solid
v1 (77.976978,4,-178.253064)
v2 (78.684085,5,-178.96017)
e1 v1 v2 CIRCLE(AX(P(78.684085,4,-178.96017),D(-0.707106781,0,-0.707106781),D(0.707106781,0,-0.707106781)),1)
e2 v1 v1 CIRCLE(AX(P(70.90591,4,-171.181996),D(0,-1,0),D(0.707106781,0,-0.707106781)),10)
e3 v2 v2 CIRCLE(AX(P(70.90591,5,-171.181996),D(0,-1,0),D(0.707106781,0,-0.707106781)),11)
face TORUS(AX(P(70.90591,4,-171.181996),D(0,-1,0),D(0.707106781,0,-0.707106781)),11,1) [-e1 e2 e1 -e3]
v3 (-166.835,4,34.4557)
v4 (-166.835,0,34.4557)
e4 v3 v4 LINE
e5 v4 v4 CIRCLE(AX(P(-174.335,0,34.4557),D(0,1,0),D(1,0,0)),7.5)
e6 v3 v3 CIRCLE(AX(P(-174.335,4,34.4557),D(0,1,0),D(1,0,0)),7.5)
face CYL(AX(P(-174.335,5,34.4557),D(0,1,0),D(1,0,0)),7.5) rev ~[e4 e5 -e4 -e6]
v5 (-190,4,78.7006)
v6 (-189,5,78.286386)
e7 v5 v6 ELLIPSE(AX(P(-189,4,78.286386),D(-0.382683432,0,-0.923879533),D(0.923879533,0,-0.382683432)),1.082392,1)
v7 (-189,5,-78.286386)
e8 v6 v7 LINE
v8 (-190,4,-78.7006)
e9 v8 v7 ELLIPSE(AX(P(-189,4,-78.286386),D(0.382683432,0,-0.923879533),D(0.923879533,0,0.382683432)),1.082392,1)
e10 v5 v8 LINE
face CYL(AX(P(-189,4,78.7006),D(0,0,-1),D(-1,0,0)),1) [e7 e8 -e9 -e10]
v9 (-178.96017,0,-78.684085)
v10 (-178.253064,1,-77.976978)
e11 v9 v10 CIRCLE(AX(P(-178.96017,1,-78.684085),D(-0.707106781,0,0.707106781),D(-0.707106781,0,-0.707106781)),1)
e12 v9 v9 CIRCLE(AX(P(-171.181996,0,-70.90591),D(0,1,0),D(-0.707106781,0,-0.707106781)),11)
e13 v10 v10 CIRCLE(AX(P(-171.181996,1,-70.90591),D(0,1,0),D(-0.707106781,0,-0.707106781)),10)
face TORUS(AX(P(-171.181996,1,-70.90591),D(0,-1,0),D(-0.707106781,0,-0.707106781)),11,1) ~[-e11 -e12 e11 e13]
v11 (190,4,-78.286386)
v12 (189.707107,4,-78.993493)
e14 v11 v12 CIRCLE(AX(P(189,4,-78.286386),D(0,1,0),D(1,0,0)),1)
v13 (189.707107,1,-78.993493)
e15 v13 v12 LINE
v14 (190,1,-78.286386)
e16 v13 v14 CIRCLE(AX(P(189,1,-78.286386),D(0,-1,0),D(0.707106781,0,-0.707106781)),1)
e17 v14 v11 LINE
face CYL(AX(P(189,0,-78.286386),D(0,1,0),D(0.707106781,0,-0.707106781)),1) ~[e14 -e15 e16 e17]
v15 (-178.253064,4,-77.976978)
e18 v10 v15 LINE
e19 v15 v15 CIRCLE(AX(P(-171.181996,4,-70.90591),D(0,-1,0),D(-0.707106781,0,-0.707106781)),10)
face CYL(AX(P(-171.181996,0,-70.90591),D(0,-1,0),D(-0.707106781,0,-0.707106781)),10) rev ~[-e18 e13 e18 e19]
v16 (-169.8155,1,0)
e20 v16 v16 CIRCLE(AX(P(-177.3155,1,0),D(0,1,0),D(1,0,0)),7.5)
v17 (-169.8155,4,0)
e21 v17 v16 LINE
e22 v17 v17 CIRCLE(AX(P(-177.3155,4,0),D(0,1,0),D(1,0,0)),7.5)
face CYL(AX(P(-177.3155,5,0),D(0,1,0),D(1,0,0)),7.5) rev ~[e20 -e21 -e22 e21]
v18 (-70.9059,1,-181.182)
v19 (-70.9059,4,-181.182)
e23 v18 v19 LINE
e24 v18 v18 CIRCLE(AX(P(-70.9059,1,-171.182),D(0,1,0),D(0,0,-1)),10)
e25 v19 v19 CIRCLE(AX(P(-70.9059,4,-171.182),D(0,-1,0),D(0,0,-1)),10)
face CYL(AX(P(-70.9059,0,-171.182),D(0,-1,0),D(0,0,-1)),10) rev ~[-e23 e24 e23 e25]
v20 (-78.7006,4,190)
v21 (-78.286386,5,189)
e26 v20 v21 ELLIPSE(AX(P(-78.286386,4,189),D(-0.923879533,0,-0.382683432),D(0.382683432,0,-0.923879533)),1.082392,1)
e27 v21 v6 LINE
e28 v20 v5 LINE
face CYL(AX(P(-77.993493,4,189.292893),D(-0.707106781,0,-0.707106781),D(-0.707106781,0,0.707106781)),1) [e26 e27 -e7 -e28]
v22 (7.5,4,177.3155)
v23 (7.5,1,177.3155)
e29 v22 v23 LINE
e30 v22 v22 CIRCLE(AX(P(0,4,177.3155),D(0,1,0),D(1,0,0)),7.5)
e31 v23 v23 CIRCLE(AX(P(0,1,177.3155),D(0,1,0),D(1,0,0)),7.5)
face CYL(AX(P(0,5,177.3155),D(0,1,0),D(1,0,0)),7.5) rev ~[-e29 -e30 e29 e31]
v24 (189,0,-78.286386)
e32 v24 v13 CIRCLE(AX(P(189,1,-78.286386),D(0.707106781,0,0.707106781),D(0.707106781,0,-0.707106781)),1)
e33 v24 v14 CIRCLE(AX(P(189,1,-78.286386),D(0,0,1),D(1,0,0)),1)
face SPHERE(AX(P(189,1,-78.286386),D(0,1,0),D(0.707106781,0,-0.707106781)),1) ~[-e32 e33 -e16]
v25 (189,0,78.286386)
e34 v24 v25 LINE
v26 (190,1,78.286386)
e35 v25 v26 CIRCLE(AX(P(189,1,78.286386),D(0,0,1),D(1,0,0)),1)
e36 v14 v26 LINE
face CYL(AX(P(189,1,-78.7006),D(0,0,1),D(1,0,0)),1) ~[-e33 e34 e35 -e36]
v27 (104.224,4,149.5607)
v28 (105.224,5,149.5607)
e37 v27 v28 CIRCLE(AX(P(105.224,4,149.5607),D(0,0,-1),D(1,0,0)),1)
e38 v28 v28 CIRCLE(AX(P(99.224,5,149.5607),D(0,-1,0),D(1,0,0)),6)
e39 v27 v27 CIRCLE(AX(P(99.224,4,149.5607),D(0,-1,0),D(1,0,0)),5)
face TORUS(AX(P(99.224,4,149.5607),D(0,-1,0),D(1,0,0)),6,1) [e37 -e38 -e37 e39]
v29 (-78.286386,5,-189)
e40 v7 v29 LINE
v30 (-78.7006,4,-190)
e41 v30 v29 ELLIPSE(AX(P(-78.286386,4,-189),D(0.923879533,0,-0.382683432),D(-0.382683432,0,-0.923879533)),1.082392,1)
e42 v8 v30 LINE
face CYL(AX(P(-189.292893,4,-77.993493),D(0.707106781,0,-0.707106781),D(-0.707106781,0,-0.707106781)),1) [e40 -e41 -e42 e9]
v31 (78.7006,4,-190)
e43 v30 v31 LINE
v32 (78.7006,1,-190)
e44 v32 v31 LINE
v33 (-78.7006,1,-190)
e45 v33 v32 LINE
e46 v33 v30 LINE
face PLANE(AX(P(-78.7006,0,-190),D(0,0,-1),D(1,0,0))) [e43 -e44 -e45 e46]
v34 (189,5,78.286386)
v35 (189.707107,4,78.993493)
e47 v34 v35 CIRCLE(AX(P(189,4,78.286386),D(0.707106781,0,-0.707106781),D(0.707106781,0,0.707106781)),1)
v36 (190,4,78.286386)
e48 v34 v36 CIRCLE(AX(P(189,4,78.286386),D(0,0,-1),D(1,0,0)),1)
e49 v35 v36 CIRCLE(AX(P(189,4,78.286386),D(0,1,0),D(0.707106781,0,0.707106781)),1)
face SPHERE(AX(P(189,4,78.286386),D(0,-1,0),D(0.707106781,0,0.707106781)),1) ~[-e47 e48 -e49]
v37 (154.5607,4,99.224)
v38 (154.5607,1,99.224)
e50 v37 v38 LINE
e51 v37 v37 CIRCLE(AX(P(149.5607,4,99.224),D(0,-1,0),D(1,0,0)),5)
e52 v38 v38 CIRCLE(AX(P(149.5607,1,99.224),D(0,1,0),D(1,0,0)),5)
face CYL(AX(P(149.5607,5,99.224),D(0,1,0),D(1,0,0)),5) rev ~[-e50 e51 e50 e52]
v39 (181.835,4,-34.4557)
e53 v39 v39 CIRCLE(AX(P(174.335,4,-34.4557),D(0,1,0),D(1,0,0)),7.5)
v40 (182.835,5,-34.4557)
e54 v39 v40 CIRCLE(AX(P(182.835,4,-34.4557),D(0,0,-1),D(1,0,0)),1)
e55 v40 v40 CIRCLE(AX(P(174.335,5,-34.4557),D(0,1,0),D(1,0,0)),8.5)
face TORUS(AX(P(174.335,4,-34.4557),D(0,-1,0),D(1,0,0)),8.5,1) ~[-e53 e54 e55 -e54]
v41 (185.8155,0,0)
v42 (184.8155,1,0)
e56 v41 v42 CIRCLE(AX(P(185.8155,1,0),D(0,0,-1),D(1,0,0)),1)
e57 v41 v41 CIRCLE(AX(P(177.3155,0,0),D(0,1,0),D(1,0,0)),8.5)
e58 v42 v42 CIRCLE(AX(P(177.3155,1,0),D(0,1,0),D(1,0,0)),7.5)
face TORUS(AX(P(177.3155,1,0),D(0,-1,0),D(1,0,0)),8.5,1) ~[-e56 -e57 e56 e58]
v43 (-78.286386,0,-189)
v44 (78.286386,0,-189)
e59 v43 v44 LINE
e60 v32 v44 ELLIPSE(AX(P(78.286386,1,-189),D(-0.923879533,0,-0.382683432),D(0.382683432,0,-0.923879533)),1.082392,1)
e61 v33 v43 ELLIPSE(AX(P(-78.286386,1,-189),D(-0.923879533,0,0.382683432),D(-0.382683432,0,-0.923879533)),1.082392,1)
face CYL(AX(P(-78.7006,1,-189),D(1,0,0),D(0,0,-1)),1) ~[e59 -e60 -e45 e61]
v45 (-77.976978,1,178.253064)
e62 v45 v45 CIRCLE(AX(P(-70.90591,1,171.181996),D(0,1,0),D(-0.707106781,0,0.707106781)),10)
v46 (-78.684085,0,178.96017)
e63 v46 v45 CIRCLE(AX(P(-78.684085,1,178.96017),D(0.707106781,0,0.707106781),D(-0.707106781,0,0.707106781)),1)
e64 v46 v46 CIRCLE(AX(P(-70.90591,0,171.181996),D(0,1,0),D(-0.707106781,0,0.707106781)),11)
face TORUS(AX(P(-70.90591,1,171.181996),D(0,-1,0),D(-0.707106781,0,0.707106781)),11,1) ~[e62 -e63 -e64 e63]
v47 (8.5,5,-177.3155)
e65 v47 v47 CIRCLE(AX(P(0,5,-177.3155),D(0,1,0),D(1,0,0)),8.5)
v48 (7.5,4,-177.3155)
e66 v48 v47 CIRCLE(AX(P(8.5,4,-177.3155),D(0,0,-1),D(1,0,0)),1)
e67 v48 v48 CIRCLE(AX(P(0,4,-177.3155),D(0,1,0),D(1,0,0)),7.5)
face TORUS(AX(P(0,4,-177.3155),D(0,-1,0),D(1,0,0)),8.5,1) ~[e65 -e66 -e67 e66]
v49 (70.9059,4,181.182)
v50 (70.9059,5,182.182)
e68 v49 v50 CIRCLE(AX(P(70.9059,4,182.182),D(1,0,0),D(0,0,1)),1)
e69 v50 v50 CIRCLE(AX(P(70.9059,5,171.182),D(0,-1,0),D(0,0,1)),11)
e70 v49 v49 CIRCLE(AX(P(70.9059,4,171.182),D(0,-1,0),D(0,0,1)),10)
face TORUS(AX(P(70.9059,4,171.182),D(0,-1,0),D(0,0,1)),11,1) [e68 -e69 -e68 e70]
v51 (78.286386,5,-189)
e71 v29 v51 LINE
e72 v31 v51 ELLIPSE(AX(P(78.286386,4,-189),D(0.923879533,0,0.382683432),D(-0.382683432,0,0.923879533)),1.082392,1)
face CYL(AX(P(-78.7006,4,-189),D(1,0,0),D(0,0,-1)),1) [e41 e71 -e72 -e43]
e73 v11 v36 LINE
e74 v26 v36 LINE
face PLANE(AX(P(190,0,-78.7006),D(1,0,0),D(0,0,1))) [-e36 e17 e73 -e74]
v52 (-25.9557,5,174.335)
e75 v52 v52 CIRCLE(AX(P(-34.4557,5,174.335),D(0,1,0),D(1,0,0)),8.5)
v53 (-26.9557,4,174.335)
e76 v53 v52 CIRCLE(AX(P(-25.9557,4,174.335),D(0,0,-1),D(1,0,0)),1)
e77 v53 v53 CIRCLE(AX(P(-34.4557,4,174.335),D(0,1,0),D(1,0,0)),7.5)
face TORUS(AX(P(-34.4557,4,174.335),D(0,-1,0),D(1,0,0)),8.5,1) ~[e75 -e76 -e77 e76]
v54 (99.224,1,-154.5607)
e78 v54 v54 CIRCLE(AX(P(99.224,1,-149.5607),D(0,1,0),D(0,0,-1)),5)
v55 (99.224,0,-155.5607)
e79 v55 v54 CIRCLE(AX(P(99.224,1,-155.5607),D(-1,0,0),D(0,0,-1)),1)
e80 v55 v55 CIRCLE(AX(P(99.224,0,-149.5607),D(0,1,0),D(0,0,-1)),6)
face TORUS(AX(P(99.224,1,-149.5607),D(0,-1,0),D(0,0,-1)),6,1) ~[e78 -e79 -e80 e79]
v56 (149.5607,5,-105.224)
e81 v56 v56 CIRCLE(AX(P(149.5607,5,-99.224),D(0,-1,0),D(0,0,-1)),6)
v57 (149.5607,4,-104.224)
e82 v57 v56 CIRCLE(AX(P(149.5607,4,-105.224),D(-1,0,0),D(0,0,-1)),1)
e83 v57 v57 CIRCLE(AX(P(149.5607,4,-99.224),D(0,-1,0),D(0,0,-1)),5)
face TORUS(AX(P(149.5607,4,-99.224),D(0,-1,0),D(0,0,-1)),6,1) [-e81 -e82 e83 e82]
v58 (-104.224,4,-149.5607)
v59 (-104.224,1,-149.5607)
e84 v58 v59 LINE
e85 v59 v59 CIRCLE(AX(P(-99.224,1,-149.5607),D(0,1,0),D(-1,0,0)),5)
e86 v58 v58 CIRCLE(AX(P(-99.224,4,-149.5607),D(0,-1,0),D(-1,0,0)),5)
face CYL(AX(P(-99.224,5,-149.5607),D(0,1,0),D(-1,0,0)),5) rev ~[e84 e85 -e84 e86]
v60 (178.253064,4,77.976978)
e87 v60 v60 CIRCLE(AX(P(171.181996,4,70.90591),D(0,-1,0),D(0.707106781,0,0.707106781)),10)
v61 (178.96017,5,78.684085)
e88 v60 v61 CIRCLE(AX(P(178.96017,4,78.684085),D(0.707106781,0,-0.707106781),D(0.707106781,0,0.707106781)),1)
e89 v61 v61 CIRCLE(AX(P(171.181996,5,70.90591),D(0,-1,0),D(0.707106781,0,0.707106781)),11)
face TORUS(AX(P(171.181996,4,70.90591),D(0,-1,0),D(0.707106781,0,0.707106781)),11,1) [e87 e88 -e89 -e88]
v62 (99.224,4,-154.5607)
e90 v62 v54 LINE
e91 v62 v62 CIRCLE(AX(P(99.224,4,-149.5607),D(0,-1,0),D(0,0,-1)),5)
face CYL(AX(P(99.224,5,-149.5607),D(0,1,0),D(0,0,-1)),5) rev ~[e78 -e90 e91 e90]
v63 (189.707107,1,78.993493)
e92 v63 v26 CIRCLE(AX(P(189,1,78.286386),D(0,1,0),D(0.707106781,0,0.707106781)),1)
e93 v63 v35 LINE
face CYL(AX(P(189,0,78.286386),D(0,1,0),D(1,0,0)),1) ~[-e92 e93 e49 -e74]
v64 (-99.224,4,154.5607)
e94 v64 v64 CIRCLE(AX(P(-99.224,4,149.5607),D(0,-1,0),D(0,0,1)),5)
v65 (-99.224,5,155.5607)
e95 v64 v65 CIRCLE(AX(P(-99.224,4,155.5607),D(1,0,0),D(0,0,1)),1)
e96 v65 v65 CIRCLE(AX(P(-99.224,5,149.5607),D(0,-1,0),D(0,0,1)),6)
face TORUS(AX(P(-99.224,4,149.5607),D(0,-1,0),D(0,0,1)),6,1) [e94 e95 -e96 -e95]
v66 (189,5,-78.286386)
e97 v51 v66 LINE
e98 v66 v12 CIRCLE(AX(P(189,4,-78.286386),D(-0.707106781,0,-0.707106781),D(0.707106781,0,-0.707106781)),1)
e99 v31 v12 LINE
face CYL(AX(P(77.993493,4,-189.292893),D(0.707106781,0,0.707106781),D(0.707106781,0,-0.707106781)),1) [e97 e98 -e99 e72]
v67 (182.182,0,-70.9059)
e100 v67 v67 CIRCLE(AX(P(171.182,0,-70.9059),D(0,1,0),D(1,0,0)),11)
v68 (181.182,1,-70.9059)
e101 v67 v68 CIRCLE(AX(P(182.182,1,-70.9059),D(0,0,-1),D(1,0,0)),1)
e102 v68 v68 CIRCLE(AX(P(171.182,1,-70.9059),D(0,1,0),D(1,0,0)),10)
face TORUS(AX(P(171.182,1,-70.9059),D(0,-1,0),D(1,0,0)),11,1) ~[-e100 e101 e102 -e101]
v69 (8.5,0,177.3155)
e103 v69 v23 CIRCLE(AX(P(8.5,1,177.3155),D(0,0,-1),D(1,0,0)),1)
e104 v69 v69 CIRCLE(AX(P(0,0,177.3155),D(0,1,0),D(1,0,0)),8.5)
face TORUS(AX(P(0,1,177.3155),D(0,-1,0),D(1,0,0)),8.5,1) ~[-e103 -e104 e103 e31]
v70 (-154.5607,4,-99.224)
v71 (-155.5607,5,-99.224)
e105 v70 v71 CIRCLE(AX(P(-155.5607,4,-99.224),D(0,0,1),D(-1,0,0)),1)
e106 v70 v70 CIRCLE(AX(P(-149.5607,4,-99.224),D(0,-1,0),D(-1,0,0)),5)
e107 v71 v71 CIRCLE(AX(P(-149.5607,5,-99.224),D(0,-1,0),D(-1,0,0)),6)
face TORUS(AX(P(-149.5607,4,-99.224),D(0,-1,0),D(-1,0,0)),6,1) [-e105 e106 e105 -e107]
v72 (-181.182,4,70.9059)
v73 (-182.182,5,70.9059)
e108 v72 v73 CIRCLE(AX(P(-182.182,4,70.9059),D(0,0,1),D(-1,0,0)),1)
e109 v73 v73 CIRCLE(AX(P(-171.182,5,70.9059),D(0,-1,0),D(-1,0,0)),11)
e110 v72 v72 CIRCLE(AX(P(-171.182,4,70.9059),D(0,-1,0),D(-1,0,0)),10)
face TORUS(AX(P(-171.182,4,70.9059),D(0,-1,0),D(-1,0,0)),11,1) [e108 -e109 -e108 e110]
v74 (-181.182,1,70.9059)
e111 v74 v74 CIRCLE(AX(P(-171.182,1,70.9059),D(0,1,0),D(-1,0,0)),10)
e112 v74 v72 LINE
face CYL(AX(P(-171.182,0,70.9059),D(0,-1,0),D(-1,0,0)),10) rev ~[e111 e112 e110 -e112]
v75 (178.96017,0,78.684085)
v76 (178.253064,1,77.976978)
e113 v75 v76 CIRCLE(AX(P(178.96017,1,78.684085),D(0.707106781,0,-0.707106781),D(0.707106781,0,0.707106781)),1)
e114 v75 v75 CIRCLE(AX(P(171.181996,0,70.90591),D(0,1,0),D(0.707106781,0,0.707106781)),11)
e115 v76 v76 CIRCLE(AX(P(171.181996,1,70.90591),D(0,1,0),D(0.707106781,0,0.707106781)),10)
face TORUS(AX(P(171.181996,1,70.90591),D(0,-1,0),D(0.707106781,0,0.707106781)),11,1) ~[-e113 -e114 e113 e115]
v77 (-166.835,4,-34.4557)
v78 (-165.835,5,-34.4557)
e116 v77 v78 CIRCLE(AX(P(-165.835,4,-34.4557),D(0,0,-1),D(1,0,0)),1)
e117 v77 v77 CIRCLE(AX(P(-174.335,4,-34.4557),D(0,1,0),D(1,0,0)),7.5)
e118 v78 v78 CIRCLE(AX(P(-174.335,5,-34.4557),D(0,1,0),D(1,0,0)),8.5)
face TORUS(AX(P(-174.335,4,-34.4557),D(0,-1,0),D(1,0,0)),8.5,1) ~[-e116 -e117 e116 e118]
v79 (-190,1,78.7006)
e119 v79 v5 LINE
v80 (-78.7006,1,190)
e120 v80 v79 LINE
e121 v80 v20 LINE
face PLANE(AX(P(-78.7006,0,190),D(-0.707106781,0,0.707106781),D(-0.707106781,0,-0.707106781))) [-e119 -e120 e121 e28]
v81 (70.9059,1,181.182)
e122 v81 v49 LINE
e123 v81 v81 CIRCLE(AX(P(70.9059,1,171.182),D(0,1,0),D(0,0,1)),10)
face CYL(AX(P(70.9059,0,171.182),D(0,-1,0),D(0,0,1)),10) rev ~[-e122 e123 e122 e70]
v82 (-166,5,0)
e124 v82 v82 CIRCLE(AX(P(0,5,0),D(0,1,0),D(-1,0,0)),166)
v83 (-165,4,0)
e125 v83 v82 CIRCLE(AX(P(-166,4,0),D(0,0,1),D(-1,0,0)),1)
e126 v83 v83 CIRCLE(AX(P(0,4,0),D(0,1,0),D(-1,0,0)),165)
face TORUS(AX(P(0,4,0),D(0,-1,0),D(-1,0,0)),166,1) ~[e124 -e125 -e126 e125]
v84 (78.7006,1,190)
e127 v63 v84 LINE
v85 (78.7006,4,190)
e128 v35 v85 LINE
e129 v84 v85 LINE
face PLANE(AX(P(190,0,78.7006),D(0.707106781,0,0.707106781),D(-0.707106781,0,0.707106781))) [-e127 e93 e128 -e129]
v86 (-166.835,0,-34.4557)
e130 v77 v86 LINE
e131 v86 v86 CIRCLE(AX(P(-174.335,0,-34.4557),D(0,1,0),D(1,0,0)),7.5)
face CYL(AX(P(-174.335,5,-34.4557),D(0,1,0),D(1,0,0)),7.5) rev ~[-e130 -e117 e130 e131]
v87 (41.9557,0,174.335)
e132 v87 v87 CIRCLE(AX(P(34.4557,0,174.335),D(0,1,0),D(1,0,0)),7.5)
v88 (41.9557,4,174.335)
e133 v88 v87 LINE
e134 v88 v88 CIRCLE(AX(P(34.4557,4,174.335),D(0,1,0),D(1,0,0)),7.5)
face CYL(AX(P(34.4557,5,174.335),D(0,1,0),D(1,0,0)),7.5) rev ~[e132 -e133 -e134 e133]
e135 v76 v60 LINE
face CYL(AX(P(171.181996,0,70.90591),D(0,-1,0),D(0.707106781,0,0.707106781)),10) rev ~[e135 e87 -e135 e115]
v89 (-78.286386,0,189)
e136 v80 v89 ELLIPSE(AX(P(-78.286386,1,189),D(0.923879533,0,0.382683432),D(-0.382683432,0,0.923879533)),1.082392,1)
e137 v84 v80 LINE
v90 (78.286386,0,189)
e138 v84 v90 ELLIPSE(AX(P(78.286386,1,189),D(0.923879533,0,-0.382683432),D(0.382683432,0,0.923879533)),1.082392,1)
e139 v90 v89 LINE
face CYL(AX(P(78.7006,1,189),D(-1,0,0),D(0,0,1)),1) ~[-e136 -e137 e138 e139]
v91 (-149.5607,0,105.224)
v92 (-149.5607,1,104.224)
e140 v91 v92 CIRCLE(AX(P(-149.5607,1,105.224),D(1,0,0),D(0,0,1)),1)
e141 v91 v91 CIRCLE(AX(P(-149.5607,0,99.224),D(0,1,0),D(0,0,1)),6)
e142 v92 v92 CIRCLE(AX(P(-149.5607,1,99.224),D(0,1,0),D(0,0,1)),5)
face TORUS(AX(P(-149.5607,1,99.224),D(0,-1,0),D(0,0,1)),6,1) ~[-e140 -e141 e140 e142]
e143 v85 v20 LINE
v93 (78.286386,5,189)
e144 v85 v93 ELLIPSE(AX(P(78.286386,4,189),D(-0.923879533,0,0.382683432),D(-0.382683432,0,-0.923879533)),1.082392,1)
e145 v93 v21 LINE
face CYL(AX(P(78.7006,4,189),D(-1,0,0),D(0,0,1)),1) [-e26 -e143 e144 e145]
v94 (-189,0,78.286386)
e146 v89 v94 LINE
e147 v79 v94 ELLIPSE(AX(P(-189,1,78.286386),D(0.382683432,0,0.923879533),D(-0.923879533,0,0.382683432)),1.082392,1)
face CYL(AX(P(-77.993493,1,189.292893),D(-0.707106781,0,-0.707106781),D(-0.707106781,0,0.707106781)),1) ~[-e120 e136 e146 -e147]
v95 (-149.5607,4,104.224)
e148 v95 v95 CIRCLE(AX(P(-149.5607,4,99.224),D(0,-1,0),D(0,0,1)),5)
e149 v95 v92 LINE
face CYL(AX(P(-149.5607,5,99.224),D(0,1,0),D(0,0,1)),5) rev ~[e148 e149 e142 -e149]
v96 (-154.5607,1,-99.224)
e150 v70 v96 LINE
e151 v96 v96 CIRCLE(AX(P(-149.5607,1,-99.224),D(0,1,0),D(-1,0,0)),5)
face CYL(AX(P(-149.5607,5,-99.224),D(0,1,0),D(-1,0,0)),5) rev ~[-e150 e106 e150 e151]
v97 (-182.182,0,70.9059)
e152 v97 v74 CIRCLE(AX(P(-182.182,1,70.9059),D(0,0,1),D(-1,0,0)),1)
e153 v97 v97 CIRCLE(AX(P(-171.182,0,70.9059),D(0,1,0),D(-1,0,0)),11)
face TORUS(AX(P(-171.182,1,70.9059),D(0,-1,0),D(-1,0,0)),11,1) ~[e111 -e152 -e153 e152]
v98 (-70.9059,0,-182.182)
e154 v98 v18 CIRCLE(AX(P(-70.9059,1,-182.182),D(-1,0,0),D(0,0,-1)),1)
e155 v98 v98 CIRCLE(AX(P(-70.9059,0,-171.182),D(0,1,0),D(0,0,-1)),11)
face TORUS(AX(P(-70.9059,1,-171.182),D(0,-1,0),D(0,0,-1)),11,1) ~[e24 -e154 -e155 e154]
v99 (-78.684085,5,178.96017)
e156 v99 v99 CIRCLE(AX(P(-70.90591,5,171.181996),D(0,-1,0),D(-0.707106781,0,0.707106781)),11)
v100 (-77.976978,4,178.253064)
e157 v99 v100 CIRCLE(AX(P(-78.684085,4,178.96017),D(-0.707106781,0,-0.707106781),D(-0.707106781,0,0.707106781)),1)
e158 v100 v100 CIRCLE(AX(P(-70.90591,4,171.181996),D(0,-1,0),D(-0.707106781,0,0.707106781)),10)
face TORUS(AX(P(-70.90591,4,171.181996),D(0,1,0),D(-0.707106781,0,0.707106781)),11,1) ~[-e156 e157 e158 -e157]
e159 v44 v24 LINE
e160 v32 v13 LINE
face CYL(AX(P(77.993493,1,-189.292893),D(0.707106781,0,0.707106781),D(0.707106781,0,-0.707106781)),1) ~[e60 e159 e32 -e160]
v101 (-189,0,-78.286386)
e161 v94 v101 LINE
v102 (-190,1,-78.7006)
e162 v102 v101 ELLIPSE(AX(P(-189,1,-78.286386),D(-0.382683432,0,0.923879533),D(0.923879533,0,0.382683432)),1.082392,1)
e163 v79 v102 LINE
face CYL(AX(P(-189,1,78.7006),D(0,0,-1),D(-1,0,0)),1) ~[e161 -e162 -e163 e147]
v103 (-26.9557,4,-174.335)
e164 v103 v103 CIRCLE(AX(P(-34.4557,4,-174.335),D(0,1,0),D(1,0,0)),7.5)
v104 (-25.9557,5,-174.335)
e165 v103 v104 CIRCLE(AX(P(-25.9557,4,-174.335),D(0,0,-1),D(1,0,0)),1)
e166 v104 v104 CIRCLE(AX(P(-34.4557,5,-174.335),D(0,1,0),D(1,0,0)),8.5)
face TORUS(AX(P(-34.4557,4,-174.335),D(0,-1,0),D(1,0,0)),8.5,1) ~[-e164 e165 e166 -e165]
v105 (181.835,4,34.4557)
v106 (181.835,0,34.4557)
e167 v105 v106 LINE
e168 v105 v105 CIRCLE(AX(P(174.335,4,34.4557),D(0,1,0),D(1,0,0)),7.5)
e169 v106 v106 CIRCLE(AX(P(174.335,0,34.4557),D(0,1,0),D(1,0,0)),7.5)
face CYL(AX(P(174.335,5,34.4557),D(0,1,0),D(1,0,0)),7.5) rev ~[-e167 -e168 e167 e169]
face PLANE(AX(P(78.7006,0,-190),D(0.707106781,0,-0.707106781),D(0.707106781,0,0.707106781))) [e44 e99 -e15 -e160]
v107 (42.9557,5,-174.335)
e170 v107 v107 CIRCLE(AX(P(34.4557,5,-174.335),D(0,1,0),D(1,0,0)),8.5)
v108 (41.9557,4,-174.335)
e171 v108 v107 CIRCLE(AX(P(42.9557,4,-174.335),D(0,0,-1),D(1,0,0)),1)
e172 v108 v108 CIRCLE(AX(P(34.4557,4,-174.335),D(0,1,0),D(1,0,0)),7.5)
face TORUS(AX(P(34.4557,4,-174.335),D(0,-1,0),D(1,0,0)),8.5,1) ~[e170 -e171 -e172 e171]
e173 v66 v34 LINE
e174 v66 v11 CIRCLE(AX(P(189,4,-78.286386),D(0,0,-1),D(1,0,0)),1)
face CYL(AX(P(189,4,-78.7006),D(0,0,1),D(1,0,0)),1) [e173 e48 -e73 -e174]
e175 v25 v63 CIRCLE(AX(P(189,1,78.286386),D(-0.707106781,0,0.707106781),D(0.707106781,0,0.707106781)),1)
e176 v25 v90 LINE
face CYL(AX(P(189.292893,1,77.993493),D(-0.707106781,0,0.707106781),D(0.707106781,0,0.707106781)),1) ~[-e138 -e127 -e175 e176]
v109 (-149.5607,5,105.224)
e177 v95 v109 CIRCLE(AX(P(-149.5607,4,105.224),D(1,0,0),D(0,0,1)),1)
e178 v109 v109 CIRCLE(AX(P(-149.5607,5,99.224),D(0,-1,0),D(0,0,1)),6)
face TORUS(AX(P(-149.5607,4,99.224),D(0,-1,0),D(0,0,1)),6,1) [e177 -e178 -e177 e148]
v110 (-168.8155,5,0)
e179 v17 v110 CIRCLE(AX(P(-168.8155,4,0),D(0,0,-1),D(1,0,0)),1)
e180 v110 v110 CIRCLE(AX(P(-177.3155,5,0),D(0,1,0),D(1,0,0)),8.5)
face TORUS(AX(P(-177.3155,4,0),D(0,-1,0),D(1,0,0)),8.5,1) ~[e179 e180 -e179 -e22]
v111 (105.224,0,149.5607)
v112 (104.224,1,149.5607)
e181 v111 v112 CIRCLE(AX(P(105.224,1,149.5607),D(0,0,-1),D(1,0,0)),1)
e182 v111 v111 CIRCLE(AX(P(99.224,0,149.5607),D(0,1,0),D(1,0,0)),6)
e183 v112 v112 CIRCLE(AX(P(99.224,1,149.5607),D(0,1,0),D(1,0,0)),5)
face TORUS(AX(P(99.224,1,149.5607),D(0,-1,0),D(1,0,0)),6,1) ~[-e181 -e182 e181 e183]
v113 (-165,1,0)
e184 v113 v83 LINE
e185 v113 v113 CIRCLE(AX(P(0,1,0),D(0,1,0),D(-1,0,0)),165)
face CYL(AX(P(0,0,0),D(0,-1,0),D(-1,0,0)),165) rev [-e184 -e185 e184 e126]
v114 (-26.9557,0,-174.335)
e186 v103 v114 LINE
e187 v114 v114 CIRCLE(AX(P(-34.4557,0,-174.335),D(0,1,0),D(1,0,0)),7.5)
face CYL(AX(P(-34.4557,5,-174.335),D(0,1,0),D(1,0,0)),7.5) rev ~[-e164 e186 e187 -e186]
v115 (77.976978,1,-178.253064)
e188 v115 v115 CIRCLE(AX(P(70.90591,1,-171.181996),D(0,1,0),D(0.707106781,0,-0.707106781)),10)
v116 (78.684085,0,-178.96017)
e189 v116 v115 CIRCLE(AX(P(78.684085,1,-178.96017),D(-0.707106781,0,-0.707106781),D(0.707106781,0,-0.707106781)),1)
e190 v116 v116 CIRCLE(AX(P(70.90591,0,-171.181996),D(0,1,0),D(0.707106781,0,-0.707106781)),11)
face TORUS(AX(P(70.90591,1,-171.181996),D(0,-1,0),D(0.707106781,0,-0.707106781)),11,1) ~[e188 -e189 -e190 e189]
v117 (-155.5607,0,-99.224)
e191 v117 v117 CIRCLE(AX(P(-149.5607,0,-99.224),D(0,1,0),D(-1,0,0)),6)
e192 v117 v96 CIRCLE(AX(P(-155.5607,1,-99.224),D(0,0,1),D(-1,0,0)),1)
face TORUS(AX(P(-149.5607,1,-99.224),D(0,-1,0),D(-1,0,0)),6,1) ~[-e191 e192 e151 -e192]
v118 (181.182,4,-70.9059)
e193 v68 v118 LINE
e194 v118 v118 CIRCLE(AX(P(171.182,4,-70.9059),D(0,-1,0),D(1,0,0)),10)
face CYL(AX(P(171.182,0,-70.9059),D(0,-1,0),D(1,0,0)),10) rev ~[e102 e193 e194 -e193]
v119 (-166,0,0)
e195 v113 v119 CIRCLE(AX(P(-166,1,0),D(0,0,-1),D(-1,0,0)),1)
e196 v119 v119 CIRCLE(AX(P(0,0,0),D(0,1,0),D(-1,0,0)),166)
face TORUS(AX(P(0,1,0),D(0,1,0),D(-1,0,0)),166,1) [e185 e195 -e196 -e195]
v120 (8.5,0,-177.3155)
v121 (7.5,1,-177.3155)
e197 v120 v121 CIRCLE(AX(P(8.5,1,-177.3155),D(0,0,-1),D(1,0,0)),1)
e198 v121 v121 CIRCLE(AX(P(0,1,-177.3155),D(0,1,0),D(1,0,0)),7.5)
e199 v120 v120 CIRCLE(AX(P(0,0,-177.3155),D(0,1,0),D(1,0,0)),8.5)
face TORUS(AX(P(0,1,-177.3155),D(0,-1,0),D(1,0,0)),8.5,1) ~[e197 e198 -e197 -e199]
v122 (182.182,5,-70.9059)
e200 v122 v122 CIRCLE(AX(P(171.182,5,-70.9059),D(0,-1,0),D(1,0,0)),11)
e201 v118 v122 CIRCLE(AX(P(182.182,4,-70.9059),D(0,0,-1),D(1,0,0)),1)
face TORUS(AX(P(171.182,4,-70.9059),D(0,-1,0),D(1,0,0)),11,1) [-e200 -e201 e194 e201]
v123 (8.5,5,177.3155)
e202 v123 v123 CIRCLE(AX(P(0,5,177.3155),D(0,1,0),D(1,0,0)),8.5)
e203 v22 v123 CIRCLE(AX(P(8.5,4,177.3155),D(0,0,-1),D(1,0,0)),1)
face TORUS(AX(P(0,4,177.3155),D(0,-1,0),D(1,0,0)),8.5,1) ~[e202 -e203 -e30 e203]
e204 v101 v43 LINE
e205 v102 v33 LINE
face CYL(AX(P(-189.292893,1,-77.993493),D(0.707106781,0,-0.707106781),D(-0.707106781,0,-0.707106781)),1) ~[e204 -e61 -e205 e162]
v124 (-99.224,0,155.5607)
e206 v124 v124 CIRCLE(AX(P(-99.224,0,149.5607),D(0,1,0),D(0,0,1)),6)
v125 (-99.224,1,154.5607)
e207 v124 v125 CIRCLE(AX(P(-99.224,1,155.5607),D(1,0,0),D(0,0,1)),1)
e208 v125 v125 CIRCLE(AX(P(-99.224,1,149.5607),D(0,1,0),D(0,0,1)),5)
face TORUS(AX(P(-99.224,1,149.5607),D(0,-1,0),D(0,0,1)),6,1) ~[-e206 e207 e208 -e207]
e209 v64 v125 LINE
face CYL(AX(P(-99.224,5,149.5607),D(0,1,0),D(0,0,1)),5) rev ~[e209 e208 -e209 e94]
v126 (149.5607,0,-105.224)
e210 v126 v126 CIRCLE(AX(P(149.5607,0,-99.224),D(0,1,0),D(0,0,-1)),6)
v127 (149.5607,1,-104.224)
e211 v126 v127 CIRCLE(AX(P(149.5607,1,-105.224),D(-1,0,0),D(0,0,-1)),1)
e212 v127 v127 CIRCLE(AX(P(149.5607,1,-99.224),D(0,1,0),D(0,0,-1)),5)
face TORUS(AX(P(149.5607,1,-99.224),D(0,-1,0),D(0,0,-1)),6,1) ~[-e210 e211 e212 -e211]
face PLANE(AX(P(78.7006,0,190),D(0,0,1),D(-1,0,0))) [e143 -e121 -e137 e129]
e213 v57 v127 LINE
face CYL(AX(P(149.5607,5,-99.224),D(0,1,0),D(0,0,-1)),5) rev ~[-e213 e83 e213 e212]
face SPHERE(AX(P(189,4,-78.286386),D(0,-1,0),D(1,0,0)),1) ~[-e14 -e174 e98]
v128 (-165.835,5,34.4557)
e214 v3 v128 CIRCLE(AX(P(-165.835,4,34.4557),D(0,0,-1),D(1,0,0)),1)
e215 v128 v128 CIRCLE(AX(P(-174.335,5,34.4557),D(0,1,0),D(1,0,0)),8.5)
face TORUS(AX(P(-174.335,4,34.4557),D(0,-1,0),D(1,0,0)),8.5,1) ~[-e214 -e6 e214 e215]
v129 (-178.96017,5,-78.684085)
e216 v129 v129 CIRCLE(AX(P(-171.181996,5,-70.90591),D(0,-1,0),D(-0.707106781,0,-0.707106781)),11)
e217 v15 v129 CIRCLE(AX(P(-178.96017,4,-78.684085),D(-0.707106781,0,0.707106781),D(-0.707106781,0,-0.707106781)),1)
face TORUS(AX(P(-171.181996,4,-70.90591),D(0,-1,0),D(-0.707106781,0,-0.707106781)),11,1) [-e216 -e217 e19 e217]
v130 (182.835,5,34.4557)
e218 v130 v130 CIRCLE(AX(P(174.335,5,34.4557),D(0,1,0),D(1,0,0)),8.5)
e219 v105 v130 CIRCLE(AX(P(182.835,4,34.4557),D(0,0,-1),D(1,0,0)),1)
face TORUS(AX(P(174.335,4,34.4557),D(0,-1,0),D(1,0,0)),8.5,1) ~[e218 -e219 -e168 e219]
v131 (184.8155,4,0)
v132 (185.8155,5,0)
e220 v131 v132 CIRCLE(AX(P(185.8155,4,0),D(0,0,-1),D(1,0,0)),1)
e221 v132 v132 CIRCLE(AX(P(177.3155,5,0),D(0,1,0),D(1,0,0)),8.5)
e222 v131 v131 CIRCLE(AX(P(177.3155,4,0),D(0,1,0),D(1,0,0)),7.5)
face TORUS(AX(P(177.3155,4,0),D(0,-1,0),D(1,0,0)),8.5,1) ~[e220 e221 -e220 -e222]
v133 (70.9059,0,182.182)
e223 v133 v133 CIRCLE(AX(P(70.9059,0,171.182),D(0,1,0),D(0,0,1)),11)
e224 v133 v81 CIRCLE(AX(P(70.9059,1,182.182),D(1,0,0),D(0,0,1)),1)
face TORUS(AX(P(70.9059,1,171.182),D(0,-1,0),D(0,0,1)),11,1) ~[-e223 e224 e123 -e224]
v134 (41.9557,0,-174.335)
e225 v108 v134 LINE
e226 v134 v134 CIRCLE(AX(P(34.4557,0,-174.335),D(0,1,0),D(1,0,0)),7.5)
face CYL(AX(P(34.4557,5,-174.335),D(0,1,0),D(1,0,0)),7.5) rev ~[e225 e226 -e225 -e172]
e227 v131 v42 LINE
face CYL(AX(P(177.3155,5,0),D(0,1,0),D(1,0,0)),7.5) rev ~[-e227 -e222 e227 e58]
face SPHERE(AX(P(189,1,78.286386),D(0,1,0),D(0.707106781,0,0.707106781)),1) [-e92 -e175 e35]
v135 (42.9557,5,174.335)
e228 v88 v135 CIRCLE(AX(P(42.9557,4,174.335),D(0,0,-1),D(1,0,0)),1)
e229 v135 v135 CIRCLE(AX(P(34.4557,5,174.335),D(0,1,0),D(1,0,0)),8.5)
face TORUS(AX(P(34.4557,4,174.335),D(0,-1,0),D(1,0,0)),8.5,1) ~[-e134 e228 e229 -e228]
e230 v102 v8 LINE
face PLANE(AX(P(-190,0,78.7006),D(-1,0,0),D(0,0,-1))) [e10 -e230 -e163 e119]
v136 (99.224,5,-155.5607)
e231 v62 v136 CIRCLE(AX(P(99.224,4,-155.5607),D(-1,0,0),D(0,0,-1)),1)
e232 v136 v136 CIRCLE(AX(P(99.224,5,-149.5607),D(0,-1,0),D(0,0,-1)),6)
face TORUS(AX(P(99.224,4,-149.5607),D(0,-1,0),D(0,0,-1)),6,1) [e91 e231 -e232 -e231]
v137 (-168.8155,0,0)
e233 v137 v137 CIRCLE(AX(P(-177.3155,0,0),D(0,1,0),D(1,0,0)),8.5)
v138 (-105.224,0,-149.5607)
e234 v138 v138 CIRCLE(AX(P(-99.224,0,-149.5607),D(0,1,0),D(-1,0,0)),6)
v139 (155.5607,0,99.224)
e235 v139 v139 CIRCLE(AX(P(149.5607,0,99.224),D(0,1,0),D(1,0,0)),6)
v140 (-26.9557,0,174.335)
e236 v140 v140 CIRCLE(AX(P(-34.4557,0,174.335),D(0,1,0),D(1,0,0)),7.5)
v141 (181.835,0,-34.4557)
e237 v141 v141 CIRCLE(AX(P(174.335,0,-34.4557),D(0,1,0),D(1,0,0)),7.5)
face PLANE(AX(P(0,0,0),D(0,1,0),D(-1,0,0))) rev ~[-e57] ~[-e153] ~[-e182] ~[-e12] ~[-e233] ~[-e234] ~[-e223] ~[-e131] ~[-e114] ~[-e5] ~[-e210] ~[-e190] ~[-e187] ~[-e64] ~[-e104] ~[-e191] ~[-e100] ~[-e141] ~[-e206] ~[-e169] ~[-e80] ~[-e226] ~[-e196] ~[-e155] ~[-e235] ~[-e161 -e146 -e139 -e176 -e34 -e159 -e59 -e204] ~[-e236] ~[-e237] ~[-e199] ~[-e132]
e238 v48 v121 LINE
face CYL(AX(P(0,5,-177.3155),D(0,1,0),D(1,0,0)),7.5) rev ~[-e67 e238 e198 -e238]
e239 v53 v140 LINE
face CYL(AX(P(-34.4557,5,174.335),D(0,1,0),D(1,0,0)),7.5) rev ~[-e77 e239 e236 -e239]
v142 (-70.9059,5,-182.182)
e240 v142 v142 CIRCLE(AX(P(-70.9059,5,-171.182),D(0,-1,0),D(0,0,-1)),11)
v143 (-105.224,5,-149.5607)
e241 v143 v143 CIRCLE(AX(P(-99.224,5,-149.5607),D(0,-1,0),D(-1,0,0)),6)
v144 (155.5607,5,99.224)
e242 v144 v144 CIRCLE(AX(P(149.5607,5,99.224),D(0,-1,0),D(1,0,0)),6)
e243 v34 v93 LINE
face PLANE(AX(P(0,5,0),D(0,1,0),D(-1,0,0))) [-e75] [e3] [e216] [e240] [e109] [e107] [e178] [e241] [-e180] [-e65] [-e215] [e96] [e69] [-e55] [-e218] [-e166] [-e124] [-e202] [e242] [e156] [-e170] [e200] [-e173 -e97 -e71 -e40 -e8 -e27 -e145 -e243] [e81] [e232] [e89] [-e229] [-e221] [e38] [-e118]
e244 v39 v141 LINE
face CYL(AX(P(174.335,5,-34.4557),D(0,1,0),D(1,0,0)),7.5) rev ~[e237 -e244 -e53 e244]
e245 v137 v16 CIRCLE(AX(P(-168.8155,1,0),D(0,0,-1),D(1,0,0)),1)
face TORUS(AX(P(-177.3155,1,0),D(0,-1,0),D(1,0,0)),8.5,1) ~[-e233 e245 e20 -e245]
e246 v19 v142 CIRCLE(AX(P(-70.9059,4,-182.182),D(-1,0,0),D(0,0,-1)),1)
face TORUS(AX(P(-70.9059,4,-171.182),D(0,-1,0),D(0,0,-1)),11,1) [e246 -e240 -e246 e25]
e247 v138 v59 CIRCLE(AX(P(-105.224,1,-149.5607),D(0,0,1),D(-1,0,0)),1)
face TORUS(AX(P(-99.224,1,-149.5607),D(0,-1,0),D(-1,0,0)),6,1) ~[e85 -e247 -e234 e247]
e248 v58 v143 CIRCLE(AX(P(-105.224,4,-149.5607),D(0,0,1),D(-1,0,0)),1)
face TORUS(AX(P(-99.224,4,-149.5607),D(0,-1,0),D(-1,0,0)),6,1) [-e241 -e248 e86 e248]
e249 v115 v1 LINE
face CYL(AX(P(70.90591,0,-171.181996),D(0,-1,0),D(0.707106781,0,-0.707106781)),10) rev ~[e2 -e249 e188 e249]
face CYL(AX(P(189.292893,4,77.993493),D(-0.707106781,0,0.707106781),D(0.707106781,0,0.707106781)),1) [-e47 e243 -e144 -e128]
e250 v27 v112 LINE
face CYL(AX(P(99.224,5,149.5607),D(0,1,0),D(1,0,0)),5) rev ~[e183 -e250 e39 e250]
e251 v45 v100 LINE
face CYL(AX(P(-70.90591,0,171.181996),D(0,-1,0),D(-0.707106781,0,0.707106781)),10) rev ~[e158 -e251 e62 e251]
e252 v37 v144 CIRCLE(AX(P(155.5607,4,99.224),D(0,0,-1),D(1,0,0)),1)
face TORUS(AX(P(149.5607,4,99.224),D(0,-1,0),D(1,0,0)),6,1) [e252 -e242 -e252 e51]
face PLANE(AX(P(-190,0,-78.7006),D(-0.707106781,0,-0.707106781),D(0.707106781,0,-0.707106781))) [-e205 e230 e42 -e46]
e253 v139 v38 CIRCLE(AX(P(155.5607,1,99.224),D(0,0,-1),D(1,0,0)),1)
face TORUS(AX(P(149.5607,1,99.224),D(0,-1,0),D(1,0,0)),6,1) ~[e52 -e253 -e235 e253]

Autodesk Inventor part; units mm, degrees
ref_plane "YZ Plane" through (0, 0, 0) normal (1, 0, 0) x (0, 1, 0)
ref_plane "XZ Plane" through (0, 0, 0) normal (0, 1, 0) x (-1, 0, 0)
ref_plane "XY Plane" through (0, 0, 0) normal (0, 0, 1) x (1, 0, 0)
sketch "Sketch1" plane through (0, 0, 0) normal (0, 1, 0) x (-1, 0, 0)
  line L0 (-78.7006, -190) -> (-190, -78.7006)
  line L1 (-190, -78.7006) -> (-190, 78.7006)
  line L2 (-190, 78.7006) -> (-78.7006, 190)
  line L3 (-78.7006, 190) -> (78.7006, 190)
  line L4 (78.7006, 190) -> (190, 78.7006)
  line L5 (190, 78.7006) -> (190, -78.7006)
  line L6 (190, -78.7006) -> (78.7006, -190)
  line L7 (78.7006, -190) -> (-78.7006, -190)
  circle A0 centre (0, 0) radius 165
  point P0 (0, 190)
  point P1 (0, -190)
  dimension "d0" = 380
  dimension "d1" = 330
extrude "Extrusion1" add sketch "Sketch1" along normal blind 5
fillet "Fillet1" radius 1 20 edges at (-134.3503, 5, -134.3503) (-190, 5, 0) (-134.3503, 5, 134.3503) (0, 5, 190) (134.3503, 5, 134.3503) (190, 5, 0) (134.3503, 5, -134.3503) (0, 5, -190) (190, 0, 0) (190, 2.5, -78.7006) (190, 2.5, 78.7006) (-134.3503, 0, -134.3503) (0, 0, -190) (134.3503, 0, -134.3503) (134.3503, 0, 134.3503) (0, 0, 190) (-134.3503, 0, 134.3503) (-190, 0, 0) (165, 5, 0) (165, 0, 0)
sketch "Sketch3" plane through (0, 0, 0) normal (0, -1, 0) x (1, 0, 0)
  line L0 (189, 78.2864) -> (78.2864, 189) projected
  circle A0 centre (0, 0) radius 165 projected
  line L1 (189, -78.2864) -> (189, 78.2864) projected
  line L2 (78.2864, -189) -> (189, -78.2864) projected
  circle A1 centre (0, 0) radius 166 projected
  circle A2 centre (171.182, -70.9059) radius 10
  line L3 (189, -78.2864) -> (180.4208, -74.7327)
  line L4 (161.9432, -67.0791) -> (153.364, -63.5254)
  dimension "d57" = 20
extrude "Extrusion2" cut sketch "Sketch3" against normal blind 5 contours A2
pattern_circular "Circular Pattern1" count 8 over 360 about axis through (0, -10, 0) along (0, 1, 0) of "Extrusion2"
fillet "Fillet4" radius 1 2 edges at (-63.8348, 0, 164.1109) (-63.8348, 5, 164.1109)
pattern_circular "Circular Pattern6" count 8 over 360 about axis through (0, -10, 0) along (0, 1, 0) of "Fillet4"
sketch "Sketch5" plane through (0, 5, 0) normal (0, 1, 0) x (1, 0, 0)
  line L0 (190, -78.2864) -> (189, -78.2864) projected
  line L1 (189, -78.2864) -> (153.364, -63.5254)
  circle A0 centre (0, 0) radius 166 projected
  line L2 (189, 78.2864) -> (153.364, 63.5254)
  circle A1 centre (171.182, 70.9059) radius 10
  line L3 (177.3155, 0) -> (166, 0)
  line L4 (187, 0) -> (166, 0)
  line L5 (166, 0) -> (189, 0)
  circle A2 centre (177.3155, 0) radius 7.5
  line L6 (189, 0) -> (166, 0)
  line L7 (171.182, 70.9059) -> (177.3155, 0)
  circle A3 centre (174.335, 34.4557) radius 7.5
  line L8 (177.3155, 0) -> (171.182, -70.9059)
  circle A4 centre (174.335, -34.4557) radius 7.5
  circle A5 centre (-34.4557, 174.335) radius 7.5
  circle A6 centre (0, 177.3155) radius 7.5
  circle A7 centre (34.4557, 174.335) radius 7.5
  circle A8 centre (-174.335, -34.4557) radius 7.5
  circle A9 centre (-177.3155, 0) radius 7.5
  circle A10 centre (-174.335, 34.4557) radius 7.5
  circle A11 centre (34.4557, -174.335) radius 7.5
  circle A12 centre (0, -177.3155) radius 7.5
  circle A13 centre (-34.4557, -174.335) radius 7.5
  point P0 (162.508, 31.7784)
  dimension "d22" = 45
  dimension "d62" = 20
  dimension "d63" = 15
  dimension "d93" = 15
  dimension "d94" = 15
  dimension "d97" = 360
extrude "Extrusion3" cut sketch "Sketch5" against normal blind 5 contours A4 L8 | L8 A4 | A2 L7 L3 | L3 L8 A2 | L8 L4 A2 | L7 A2 L4 | A3 L7 | L7 A3 | A5 | A6 | A7 | A8 | A9 | A10 | A11 | A12 | A13
pattern_circular "Circular Pattern7" count 4 over 360 about axis through (0, -10, 0) along (0, 1, 0) of "Extrusion3"
sketch "Sketch8" plane through (0, 5, 0) normal (0, 1, 0) x (1, 0, 0)
  line L0 (189, 78.2864) -> (189, -78.2864) projected
  line L1 (189, -78.2864) -> (153.364, -63.5254)
  circle A0 centre (0, 0) radius 166 projected
  line L2 (78.2864, -189) -> (63.5254, -153.364)
  line L3 (189, 0) -> (166, 0)
  line L4 (133.6432, -133.6432) -> (117.3797, -117.3797)
  arc A1 (70.9059, -171.182) -> (125.5115, -125.5115) centre (-158.068, 158.068) ccw
  arc A2 (125.5115, -125.5115) -> (171.182, -70.9059) centre (-158.068, 158.068) ccw
  circle A3 centre (149.5607, -99.224) radius 5
  circle A4 centre (99.224, -149.5607) radius 5
  dimension "d75" = 45
  dimension "d79" = 45
  dimension "d81" = 10
  dimension "d82" = 10
extrude "Extrusion5" cut sketch "Sketch8" against normal blind 5 contours A3 A2 | A2 A3 | A4 A1 | A1 A4
pattern_circular "Circular Pattern8" count 4 over 360 about axis through (0, -10, 0) along (0, 1, 0) of "Extrusion5"
fillet "Fillet5" radius 1 8 edges at (-7.5, 5, 177.3155) (-7.5, 0, 177.3155) (94.224, 5, 149.5607) (94.224, 0, 149.5607) (144.5607, 5, 99.224) (144.5607, 0, 99.224) (26.9557, 5, 174.335) (-41.9557, 5, 174.335)
pattern_circular "Circular Pattern9" count 4 over 360 about axis through (0, -10, 0) along (0, 1, 0) of "Fillet5"
sketch "Sketch9" plane through (0, 5, 0) normal (0, 1, 0) x (1, 0, 0)
  line L0 (-184.8155, 0) -> (-169.8155, 0)
  circle A0 centre (-177.3155, 0) radius 7.5 projected
  point P0 (0, 0)
